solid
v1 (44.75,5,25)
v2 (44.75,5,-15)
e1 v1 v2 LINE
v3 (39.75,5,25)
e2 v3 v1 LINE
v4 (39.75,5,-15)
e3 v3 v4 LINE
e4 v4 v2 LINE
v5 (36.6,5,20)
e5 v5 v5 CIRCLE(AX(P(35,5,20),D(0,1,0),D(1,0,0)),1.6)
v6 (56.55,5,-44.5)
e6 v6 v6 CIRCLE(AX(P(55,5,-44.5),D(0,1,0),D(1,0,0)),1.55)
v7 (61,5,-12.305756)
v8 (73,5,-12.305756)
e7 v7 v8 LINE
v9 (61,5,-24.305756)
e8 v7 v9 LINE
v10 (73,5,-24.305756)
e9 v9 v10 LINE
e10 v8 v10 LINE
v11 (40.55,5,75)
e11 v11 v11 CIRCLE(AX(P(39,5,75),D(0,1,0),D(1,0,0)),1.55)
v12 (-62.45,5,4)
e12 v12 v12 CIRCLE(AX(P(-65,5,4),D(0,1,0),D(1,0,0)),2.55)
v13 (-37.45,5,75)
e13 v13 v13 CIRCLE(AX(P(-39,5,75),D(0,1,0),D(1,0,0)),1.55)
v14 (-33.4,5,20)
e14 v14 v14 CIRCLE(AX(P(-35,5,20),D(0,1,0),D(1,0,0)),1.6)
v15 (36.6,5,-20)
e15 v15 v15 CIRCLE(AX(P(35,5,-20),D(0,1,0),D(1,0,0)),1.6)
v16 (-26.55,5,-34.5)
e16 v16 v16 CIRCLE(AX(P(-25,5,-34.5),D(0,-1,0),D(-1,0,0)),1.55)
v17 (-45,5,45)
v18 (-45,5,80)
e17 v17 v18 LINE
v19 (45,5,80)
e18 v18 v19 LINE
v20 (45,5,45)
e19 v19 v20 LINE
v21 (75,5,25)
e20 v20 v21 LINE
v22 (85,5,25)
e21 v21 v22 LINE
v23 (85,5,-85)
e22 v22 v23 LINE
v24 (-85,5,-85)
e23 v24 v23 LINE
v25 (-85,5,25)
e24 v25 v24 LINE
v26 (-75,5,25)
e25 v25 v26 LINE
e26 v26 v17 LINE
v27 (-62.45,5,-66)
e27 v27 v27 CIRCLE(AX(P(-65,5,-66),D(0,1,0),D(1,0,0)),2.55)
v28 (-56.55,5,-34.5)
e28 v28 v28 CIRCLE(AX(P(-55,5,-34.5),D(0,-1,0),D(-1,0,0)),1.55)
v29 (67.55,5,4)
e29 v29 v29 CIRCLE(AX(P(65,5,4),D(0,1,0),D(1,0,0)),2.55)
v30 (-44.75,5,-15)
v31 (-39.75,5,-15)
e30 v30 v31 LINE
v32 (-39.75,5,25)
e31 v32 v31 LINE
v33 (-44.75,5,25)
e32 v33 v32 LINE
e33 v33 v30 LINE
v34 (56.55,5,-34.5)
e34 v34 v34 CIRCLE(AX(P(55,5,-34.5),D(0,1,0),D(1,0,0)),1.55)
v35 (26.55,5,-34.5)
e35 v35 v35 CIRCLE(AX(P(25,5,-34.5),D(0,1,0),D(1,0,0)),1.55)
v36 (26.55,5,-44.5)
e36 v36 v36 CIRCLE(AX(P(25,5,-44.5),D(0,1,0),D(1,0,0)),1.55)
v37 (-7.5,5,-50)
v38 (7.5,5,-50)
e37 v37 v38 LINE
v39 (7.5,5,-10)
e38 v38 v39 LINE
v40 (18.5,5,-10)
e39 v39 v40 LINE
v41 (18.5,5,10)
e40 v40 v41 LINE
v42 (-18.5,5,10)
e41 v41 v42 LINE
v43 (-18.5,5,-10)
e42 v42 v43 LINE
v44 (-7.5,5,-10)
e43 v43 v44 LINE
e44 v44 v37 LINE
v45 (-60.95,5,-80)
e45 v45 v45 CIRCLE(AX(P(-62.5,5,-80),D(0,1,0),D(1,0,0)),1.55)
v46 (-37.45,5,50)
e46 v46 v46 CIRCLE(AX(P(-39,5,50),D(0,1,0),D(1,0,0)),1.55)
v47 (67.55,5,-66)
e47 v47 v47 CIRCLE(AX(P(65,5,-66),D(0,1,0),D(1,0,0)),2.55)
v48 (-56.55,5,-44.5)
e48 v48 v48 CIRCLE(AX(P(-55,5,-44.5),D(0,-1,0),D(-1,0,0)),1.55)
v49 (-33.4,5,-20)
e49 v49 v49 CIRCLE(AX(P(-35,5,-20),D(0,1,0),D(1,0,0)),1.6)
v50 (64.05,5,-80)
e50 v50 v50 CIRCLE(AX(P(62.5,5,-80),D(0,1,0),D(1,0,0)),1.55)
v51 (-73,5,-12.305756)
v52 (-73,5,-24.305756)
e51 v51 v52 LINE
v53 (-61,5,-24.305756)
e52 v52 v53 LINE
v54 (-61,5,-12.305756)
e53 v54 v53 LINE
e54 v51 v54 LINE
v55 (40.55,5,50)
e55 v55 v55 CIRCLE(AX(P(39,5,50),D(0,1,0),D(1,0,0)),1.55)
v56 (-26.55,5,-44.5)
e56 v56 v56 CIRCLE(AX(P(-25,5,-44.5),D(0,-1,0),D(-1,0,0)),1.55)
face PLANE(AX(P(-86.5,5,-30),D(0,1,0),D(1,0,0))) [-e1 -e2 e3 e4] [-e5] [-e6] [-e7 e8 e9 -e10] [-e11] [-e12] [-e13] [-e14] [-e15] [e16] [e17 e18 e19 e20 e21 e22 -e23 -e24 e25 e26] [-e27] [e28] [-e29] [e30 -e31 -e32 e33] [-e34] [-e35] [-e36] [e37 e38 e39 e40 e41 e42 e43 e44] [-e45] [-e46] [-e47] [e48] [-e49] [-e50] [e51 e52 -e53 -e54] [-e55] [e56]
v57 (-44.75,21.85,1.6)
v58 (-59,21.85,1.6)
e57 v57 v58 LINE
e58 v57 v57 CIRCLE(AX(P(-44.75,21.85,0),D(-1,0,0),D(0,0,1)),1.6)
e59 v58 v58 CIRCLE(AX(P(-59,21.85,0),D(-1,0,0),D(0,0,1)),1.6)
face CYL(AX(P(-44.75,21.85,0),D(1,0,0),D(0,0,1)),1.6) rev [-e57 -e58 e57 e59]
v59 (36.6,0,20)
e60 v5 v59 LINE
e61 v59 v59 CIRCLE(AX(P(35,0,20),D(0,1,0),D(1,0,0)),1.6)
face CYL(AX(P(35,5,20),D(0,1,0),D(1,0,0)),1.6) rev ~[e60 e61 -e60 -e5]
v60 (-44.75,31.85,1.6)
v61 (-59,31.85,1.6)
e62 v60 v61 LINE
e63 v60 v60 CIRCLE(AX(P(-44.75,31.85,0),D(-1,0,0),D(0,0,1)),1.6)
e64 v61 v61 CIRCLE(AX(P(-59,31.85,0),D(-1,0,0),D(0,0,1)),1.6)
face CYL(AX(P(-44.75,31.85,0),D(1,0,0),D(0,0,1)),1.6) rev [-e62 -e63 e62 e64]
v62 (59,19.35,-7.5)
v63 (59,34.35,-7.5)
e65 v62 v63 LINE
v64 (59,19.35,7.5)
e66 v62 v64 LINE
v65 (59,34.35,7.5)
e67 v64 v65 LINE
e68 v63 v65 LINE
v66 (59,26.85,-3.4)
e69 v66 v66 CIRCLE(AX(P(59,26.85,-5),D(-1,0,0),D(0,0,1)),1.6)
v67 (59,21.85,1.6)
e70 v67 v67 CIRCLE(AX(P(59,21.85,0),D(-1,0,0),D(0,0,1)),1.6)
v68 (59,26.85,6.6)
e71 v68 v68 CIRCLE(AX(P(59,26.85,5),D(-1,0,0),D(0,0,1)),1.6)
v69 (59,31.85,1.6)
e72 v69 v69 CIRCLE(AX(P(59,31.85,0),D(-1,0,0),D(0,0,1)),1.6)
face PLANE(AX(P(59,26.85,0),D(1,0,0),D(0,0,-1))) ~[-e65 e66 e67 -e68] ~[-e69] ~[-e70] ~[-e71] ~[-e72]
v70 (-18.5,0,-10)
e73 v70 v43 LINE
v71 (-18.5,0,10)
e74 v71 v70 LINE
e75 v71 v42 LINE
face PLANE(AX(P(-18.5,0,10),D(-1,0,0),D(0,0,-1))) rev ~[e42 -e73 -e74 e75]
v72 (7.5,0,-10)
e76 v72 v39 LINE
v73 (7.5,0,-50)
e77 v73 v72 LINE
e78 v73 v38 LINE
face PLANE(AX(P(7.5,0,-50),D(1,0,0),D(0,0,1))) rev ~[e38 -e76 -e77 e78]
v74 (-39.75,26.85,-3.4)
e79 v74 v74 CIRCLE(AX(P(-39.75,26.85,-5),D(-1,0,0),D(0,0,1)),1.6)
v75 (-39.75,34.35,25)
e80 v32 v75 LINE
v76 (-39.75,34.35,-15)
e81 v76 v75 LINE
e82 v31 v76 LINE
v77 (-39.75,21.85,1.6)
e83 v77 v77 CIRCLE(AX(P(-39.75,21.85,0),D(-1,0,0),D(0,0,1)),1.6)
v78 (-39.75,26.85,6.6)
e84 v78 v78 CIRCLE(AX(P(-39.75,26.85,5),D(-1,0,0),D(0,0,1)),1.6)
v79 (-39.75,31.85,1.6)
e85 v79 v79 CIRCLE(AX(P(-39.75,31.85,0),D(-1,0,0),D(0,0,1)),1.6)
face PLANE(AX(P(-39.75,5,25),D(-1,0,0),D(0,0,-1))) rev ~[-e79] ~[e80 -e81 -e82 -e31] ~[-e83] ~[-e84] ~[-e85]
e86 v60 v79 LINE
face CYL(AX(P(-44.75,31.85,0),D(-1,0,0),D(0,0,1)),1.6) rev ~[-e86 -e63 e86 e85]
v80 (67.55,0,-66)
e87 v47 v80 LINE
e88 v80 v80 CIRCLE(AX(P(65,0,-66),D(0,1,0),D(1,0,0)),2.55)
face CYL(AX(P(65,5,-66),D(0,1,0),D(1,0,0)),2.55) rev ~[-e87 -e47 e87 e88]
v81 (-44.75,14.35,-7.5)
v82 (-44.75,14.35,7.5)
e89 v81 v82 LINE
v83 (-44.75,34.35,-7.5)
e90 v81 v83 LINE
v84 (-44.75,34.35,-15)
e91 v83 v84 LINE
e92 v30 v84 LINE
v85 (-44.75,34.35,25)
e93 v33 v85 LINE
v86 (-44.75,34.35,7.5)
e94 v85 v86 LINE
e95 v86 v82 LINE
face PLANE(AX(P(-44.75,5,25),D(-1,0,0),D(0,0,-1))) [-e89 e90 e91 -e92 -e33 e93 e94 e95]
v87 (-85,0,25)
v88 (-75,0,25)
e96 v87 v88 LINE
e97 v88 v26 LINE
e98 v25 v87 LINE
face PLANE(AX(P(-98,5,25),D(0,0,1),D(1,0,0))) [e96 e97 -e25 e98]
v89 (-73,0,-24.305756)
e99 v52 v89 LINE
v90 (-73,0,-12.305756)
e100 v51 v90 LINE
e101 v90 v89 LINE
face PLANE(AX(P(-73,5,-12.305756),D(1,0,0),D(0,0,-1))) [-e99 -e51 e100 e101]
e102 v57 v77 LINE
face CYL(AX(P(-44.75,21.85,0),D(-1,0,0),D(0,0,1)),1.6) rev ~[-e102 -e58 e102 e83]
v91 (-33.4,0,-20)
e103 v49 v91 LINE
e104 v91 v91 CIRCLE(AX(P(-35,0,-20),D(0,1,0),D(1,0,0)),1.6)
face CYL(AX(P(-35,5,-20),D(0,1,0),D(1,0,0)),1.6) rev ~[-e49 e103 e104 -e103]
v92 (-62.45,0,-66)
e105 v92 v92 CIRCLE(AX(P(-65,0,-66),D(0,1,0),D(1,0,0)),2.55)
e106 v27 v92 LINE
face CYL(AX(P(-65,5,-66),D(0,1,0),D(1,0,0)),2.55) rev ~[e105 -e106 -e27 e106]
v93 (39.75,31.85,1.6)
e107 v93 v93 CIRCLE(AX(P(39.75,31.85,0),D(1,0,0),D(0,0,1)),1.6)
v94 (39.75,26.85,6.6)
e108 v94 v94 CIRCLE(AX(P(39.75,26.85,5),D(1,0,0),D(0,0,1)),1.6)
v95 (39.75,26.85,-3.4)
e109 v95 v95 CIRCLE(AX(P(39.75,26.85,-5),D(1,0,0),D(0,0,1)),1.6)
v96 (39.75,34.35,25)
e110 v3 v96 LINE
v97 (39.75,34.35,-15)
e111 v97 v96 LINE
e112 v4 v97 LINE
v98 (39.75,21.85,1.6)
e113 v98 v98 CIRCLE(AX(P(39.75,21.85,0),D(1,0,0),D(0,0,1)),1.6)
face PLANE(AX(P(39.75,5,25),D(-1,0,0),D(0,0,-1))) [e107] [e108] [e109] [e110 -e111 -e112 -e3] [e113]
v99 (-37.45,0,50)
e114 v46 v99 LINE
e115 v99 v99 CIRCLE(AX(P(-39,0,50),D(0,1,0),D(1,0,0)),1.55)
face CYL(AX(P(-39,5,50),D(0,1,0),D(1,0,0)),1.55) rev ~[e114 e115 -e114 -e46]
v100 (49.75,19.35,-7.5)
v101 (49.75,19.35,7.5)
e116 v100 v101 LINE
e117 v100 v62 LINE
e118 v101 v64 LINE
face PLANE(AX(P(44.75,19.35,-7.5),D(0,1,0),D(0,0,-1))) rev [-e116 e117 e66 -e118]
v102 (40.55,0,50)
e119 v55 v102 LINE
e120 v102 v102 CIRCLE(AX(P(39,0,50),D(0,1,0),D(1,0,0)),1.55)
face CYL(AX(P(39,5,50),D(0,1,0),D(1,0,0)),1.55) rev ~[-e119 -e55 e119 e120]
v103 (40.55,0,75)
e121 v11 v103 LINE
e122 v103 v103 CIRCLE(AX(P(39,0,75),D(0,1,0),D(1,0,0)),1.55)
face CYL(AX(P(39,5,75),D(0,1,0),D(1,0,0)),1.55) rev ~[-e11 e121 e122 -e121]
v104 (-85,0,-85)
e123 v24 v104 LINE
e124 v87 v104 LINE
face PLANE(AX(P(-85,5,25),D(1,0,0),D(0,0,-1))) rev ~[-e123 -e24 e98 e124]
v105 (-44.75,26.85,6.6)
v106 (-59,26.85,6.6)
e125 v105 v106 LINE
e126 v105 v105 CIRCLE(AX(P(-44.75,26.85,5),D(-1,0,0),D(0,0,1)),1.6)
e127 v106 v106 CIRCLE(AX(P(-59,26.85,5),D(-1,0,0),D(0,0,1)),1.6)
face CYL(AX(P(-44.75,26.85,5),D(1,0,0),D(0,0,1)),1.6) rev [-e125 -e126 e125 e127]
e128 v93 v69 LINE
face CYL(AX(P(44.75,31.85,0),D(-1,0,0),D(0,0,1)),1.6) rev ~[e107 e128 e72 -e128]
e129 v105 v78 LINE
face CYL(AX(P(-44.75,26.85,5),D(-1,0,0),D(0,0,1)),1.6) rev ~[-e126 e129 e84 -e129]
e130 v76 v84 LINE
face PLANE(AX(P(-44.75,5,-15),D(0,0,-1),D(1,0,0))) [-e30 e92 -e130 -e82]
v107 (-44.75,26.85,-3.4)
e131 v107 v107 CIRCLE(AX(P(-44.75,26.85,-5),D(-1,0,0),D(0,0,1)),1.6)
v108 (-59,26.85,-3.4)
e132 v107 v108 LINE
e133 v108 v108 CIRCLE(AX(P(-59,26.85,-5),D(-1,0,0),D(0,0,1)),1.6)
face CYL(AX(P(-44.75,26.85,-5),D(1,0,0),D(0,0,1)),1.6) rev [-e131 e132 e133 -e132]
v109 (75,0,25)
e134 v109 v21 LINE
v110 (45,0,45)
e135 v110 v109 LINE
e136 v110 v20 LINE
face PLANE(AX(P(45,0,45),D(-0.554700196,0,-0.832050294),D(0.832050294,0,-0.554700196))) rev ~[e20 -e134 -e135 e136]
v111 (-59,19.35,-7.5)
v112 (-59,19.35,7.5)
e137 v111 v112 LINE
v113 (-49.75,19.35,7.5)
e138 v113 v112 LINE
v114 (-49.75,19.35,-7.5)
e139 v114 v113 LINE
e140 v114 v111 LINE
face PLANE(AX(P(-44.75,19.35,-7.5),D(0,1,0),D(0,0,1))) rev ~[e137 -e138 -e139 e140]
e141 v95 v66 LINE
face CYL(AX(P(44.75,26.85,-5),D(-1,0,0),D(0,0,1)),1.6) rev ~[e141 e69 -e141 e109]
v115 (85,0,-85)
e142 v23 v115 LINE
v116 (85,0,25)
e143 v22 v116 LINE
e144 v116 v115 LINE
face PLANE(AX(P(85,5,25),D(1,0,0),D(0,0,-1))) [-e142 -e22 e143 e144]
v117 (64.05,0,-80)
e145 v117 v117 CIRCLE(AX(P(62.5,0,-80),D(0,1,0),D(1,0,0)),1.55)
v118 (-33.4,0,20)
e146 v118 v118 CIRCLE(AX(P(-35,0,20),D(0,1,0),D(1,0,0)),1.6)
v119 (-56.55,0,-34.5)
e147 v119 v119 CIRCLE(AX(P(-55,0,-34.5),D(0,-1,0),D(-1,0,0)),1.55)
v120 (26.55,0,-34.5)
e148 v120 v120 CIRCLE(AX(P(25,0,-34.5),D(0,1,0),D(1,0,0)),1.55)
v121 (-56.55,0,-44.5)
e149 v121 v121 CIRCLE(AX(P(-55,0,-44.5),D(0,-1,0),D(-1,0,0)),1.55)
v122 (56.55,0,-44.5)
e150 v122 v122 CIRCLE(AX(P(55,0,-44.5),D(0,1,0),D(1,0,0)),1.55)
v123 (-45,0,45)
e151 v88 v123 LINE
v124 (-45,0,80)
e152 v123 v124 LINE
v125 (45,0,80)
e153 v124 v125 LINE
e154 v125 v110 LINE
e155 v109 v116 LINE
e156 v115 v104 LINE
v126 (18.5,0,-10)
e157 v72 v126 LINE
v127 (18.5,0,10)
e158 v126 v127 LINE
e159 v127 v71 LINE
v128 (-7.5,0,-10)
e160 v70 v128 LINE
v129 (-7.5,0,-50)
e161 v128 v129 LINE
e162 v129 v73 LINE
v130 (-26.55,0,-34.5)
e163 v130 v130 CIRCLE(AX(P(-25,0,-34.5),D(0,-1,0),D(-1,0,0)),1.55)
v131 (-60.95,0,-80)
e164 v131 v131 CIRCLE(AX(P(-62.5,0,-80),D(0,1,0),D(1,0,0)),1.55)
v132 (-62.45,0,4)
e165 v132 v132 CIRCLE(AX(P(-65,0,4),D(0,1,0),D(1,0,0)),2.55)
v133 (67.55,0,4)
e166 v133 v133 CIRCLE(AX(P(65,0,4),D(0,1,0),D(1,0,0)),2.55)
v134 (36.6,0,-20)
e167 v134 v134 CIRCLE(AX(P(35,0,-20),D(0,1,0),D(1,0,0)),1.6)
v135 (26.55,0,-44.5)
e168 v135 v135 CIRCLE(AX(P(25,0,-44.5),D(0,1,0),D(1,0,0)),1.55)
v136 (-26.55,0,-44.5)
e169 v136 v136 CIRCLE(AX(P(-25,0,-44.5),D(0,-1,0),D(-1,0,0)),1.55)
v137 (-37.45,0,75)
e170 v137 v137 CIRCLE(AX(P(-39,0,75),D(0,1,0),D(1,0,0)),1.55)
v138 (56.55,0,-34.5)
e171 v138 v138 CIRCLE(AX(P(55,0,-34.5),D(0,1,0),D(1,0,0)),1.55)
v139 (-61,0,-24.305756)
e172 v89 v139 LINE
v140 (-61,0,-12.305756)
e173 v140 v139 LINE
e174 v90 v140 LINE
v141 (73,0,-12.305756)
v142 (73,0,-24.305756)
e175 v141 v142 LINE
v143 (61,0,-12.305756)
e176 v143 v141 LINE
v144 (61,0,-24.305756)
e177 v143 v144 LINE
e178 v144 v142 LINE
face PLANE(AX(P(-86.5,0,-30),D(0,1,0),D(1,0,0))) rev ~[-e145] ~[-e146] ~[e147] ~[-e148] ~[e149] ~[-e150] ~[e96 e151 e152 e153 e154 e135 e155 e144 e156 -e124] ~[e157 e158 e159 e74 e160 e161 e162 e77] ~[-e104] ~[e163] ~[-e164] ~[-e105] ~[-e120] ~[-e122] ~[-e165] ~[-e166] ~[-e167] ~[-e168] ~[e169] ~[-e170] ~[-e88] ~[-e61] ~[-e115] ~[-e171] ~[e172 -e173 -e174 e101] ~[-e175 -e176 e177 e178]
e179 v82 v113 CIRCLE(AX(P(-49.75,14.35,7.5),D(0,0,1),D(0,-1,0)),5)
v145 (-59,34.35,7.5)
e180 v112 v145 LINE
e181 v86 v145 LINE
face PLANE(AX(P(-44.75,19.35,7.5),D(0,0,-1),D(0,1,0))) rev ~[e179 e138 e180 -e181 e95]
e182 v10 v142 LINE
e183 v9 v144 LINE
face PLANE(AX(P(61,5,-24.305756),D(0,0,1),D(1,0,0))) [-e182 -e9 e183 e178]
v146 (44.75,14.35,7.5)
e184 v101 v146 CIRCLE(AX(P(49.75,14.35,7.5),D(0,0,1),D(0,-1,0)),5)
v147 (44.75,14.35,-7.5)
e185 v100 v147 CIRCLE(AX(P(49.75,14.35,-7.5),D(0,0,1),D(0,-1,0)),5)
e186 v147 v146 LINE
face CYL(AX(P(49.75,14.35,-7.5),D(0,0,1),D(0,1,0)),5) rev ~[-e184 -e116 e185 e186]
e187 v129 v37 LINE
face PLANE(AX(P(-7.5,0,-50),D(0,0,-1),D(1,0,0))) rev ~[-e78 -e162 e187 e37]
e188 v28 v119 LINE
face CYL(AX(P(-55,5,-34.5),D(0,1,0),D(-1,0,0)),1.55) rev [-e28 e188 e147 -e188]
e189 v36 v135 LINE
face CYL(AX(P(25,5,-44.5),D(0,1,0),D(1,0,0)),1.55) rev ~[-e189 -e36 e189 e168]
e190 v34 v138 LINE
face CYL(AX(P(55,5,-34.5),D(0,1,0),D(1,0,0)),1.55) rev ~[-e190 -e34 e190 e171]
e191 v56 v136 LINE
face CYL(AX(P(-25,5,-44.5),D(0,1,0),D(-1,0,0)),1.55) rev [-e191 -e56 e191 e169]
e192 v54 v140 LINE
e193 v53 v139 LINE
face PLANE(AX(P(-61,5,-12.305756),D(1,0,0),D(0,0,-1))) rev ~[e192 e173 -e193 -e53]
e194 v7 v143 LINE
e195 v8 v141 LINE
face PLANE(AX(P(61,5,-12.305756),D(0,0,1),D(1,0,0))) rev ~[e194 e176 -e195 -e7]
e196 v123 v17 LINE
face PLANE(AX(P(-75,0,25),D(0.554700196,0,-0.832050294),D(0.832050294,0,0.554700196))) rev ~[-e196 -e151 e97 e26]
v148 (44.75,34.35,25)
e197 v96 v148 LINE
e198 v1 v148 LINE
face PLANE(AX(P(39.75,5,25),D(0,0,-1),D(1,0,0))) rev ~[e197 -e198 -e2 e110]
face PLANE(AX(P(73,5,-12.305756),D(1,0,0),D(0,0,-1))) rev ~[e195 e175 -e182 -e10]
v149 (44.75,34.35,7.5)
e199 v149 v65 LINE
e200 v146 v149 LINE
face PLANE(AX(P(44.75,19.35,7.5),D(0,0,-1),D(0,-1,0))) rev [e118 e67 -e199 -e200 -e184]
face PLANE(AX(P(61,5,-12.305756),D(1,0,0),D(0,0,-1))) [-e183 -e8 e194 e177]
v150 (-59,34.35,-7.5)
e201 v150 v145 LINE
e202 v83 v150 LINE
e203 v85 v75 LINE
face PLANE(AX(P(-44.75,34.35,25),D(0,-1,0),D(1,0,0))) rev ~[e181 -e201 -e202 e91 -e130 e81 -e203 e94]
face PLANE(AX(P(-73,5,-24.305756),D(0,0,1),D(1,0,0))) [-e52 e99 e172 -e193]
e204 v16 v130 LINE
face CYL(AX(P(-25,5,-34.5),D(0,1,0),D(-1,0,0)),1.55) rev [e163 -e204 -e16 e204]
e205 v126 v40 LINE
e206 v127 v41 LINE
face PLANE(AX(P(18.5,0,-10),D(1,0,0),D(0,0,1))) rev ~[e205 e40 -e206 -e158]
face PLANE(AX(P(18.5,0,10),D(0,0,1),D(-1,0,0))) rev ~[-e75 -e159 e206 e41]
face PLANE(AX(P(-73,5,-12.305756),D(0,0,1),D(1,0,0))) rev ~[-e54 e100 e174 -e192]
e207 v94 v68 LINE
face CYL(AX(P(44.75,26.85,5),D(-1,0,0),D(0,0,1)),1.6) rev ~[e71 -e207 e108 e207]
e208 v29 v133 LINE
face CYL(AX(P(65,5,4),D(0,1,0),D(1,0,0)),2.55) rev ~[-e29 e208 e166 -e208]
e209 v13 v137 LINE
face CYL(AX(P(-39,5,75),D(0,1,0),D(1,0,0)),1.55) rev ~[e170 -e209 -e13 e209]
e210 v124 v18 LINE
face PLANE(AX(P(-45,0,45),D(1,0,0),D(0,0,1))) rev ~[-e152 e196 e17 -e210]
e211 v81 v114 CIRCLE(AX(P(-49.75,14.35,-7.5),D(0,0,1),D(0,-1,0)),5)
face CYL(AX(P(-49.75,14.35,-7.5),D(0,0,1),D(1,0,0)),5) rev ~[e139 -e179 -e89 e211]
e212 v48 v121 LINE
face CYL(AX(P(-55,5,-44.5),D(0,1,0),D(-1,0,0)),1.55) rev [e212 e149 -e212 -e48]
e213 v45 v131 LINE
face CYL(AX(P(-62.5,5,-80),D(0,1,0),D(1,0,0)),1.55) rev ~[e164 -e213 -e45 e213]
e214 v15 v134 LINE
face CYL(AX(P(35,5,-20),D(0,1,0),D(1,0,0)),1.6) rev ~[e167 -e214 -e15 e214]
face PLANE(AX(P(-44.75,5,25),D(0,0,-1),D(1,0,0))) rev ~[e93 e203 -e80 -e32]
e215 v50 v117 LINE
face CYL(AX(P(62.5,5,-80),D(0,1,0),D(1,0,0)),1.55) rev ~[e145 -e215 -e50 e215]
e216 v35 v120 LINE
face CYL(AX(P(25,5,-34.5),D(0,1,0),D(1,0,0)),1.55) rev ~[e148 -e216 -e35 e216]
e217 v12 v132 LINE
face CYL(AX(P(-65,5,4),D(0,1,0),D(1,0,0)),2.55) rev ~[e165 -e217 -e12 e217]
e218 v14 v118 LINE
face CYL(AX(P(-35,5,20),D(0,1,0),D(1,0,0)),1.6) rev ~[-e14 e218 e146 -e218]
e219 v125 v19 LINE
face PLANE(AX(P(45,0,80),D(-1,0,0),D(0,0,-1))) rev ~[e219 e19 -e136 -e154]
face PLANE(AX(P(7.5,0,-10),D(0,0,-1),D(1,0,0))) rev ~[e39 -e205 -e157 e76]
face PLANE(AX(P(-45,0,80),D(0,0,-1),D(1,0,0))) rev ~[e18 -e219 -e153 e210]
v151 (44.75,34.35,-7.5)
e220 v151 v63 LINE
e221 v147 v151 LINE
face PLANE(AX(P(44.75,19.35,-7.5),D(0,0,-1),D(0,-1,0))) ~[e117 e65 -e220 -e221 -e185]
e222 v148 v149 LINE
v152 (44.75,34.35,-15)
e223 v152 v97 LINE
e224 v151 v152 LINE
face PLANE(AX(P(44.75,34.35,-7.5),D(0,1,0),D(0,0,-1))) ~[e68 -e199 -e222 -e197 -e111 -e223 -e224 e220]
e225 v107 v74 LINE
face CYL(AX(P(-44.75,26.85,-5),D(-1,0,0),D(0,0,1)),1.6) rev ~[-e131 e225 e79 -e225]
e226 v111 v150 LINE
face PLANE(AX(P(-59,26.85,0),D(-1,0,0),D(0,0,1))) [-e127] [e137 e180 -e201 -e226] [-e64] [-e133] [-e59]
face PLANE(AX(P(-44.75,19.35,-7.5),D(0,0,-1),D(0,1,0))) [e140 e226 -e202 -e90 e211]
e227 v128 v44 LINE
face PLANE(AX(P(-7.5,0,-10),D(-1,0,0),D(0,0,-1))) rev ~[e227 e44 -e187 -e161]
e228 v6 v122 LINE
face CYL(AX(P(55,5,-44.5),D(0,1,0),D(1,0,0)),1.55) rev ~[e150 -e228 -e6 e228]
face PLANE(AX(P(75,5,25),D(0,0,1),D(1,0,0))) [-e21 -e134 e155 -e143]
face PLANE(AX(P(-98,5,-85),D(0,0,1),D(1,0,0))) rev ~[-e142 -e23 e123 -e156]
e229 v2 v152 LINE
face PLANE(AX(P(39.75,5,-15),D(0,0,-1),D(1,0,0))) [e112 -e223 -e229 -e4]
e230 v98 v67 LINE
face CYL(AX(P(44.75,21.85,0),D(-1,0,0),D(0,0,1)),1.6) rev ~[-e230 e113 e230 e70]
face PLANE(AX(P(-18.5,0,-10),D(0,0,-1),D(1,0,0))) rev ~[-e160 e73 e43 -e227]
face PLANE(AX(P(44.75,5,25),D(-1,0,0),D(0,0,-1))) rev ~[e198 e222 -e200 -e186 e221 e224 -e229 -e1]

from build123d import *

# Parameters (mm, degrees)
BOSS_EXTRUDE1_DEPTH     = 5
SKETCH3_R               = 1.6
CUT_EXTRUDE1_DEPTH      = 1
CUT_EXTRUDE1_DEPTH_BACK = 6
SKETCH4_R               = 2.55
CUT_EXTRUDE2_DEPTH      = 10
SKETCH5_R               = 1.55
CUT_EXTRUDE3_DEPTH      = 6
SKETCH6_R               = 1.55
CUT_EXTRUDE4_DEPTH      = 6
SKETCH7_W               = 23
SKETCH7_H               = 110
BOSS_EXTRUDE2_DEPTH     = 5
SKETCH9_W               = 5
SKETCH9_H               = 40
BOSS_EXTRUDE4_DEPTH     = 33
SKETCH11_W              = 12
SKETCH11_H              = 12
CUT_EXTRUDE5_DEPTH      = 50
SKETCH12_R              = 1.6
CUT_EXTRUDE6_DEPTH      = 50
SKETCH13_W              = 15
SKETCH13_H              = 15
SKETCH13_R              = 1.6
BOSS_EXTRUDE5_DEPTH     = 14.25
SKETCH15_W              = 89.5
SKETCH15_H              = 3.65
CUT_EXTRUDE9_DEPTH      = 111
SKETCH18_W              = 13
SKETCH18_H              = 110
CUT_EXTRUDE10_DEPTH     = 6
FILLET5_R               = 5
SKETCH19_R              = 1.55
CUT_EXTRUDE11_DEPTH     = 5


with BuildPart() as part:
    # Sketch1 → Boss-Extrude1 (new body)
    with BuildSketch(Plane(origin=(0, 0, 0), x_dir=(1, 0, 0), z_dir=(0, 1, 0))):
        Polygon((75, 85), (-75, 85), (-75, -25), (-45, -45), (-45, -80), (45, -80), (45, -45), (75, -25), align=None)
        Polygon((-18.5, -10), (-18.5, 10), (-7.5, 10), (-7.5, 50), (7.5, 50), (7.5, 10), (18.5, 10), (18.5, -10), align=None, mode=Mode.SUBTRACT)
    extrude(amount=BOSS_EXTRUDE1_DEPTH)

    # Sketch3 → Cut-Extrude1 (cut, two sides)
    with BuildSketch(Plane(origin=(0, 5, 0), x_dir=(1, 0, 0), z_dir=(0, 1, 0))) as cut_extrude1_sk:
        with Locations((-35, 20)):
            Circle(SKETCH3_R)
        with Locations((-35, -20)):
            Circle(SKETCH3_R)
        with Locations((35, -20)):
            Circle(SKETCH3_R)
        with Locations((35, 20)):
            Circle(SKETCH3_R)
    extrude(amount=CUT_EXTRUDE1_DEPTH, mode=Mode.SUBTRACT)
    extrude(cut_extrude1_sk.sketch, amount=-CUT_EXTRUDE1_DEPTH_BACK, mode=Mode.SUBTRACT)

    # Sketch4 → Cut-Extrude2 (cut)
    with BuildSketch(Plane(origin=(0, 5, 0), x_dir=(1, 0, 0), z_dir=(0, 1, 0))):
        with Locations((-65, 66)):
            Circle(SKETCH4_R)
        with Locations((65, -4)):
            Circle(SKETCH4_R)
        with Locations((-65, -4)):
            Circle(SKETCH4_R)
        with Locations((65, 66)):
            Circle(SKETCH4_R)
    extrude(amount=-CUT_EXTRUDE2_DEPTH, mode=Mode.SUBTRACT)

    # Sketch5 → Cut-Extrude3 (cut, through all)
    with BuildSketch(Plane(origin=(0, 5, 0), x_dir=(1, 0, 0), z_dir=(0, 1, 0))):
        with Locations((-39, -75)):
            Circle(SKETCH5_R)
        with Locations((39, -75)):
            Circle(SKETCH5_R)
        with Locations((-39, -50)):
            Circle(SKETCH5_R)
        with Locations((39, -50)):
            Circle(SKETCH5_R)
    extrude(amount=-CUT_EXTRUDE3_DEPTH, mode=Mode.SUBTRACT)

    # Sketch6 → Cut-Extrude4 (cut, through all)
    with BuildSketch(Plane(origin=(0, 5, 0), x_dir=(1, 0, 0), z_dir=(0, 1, 0))):
        with Locations((62.5, 80)):
            Circle(SKETCH6_R)
        with Locations((-62.5, 80)):
            Circle(SKETCH6_R)
    extrude(amount=-CUT_EXTRUDE4_DEPTH, mode=Mode.SUBTRACT)

    # Sketch7 → Boss-Extrude2 (add)
    with BuildSketch(Plane(origin=(0, 5, 0), x_dir=(1, 0, 0), z_dir=(0, 1, 0))):
        with Locations((-86.5, 30)):
            Rectangle(SKETCH7_W, SKETCH7_H)
        with Locations((86.5, 30)):
            Rectangle(SKETCH7_W, SKETCH7_H)
    extrude(amount=-BOSS_EXTRUDE2_DEPTH)

    # Sketch9 → Boss-Extrude4 (add)
    with BuildSketch(Plane(origin=(0, 5, 0), x_dir=(1, 0, 0), z_dir=(0, 1, 0))):
        with Locations((-42.25, -5)):
            Rectangle(SKETCH9_W, SKETCH9_H)
        with Locations((42.25, -5)):
            Rectangle(SKETCH9_W, SKETCH9_H)
    extrude(amount=BOSS_EXTRUDE4_DEPTH)

    # Sketch11 → Cut-Extrude5 (cut)
    with BuildSketch(Plane(origin=(0, 5, 0), x_dir=(1, 0, 0), z_dir=(0, 1, 0))):
        with Locations((-67, 18.305755671)):
            Rectangle(SKETCH11_W, SKETCH11_H)
        with Locations((67, 18.305755671)):
            Rectangle(SKETCH11_W, SKETCH11_H)
    extrude(amount=-CUT_EXTRUDE5_DEPTH, mode=Mode.SUBTRACT)

    # Sketch12 → Cut-Extrude6 (cut)
    with BuildSketch(Plane.ZY.offset(44.75)):
        with Locations((0, 31.85)):
            Circle(SKETCH12_R)
        with Locations((5, 26.85)):
            Circle(SKETCH12_R)
        with Locations((0, 21.85)):
            Circle(SKETCH12_R)
        with Locations((-5, 26.85)):
            Circle(SKETCH12_R)
    cut_extrude6 = extrude(amount=-CUT_EXTRUDE6_DEPTH, mode=Mode.SUBTRACT)

    # Sketch13 → Boss-Extrude5 (add)
    with BuildSketch(Plane.ZY.offset(44.75)):
        with Locations((0, 26.85)):
            Rectangle(SKETCH13_W, SKETCH13_H)
        with Locations((0, 31.85)):
            Circle(SKETCH13_R, mode=Mode.SUBTRACT)
        with Locations((5, 26.85)):
            Circle(SKETCH13_R, mode=Mode.SUBTRACT)
        with Locations((-5, 26.85)):
            Circle(SKETCH13_R, mode=Mode.SUBTRACT)
        with Locations((0, 21.85)):
            Circle(SKETCH13_R, mode=Mode.SUBTRACT)
    boss_extrude5 = extrude(amount=BOSS_EXTRUDE5_DEPTH)

    # Mirror2: Cut-Extrude6 across plane
    add(cut_extrude6.mirror(Plane.ZY), mode=Mode.SUBTRACT)

    # Mirror3: Boss-Extrude5 across plane
    add(boss_extrude5.mirror(Plane.ZY))

    # Sketch15 → Cut-Extrude9 (cut, through all)
    with BuildSketch(Plane.XY.offset(25)):
        with Locations((0, 36.175)):
            Rectangle(SKETCH15_W, SKETCH15_H)
    extrude(amount=-CUT_EXTRUDE9_DEPTH, mode=Mode.SUBTRACT)

    # Sketch18 → Cut-Extrude10 (cut, through all)
    with BuildSketch(Plane(origin=(0, 5, 0), x_dir=(1, 0, 0), z_dir=(0, 1, 0))):
        with Locations((-91.5, 30)):
            Rectangle(SKETCH18_W, SKETCH18_H)
        with Locations((91.5, 30)):
            Rectangle(SKETCH18_W, SKETCH18_H)
    extrude(amount=-CUT_EXTRUDE10_DEPTH, mode=Mode.SUBTRACT)

    # Fillet5
    fillet5_edges = [part.edges().sort_by_distance(p)[0] for p in [
        (-44.75, 19.35, 0),
        (44.75, 19.35, 0),
    ]]
    fillet(fillet5_edges, radius=FILLET5_R)

    # Sketch19 → Cut-Extrude11 (cut)
    with BuildSketch(Plane(origin=(0, 5, 0), x_dir=(1, 0, 0), z_dir=(0, 1, 0))):
        with Locations((55, 34.5)):
            Circle(SKETCH19_R)
        with Locations((25, 34.5)):
            Circle(SKETCH19_R)
        with Locations((25, 44.5)):
            Circle(SKETCH19_R)
        with Locations((55, 44.5)):
            Circle(SKETCH19_R)
    cut_extrude11 = extrude(amount=-CUT_EXTRUDE11_DEPTH, mode=Mode.SUBTRACT)

    # Mirror4: Cut-Extrude11 across plane
    add(cut_extrude11.mirror(Plane.ZY), mode=Mode.SUBTRACT)


solid = part.part
